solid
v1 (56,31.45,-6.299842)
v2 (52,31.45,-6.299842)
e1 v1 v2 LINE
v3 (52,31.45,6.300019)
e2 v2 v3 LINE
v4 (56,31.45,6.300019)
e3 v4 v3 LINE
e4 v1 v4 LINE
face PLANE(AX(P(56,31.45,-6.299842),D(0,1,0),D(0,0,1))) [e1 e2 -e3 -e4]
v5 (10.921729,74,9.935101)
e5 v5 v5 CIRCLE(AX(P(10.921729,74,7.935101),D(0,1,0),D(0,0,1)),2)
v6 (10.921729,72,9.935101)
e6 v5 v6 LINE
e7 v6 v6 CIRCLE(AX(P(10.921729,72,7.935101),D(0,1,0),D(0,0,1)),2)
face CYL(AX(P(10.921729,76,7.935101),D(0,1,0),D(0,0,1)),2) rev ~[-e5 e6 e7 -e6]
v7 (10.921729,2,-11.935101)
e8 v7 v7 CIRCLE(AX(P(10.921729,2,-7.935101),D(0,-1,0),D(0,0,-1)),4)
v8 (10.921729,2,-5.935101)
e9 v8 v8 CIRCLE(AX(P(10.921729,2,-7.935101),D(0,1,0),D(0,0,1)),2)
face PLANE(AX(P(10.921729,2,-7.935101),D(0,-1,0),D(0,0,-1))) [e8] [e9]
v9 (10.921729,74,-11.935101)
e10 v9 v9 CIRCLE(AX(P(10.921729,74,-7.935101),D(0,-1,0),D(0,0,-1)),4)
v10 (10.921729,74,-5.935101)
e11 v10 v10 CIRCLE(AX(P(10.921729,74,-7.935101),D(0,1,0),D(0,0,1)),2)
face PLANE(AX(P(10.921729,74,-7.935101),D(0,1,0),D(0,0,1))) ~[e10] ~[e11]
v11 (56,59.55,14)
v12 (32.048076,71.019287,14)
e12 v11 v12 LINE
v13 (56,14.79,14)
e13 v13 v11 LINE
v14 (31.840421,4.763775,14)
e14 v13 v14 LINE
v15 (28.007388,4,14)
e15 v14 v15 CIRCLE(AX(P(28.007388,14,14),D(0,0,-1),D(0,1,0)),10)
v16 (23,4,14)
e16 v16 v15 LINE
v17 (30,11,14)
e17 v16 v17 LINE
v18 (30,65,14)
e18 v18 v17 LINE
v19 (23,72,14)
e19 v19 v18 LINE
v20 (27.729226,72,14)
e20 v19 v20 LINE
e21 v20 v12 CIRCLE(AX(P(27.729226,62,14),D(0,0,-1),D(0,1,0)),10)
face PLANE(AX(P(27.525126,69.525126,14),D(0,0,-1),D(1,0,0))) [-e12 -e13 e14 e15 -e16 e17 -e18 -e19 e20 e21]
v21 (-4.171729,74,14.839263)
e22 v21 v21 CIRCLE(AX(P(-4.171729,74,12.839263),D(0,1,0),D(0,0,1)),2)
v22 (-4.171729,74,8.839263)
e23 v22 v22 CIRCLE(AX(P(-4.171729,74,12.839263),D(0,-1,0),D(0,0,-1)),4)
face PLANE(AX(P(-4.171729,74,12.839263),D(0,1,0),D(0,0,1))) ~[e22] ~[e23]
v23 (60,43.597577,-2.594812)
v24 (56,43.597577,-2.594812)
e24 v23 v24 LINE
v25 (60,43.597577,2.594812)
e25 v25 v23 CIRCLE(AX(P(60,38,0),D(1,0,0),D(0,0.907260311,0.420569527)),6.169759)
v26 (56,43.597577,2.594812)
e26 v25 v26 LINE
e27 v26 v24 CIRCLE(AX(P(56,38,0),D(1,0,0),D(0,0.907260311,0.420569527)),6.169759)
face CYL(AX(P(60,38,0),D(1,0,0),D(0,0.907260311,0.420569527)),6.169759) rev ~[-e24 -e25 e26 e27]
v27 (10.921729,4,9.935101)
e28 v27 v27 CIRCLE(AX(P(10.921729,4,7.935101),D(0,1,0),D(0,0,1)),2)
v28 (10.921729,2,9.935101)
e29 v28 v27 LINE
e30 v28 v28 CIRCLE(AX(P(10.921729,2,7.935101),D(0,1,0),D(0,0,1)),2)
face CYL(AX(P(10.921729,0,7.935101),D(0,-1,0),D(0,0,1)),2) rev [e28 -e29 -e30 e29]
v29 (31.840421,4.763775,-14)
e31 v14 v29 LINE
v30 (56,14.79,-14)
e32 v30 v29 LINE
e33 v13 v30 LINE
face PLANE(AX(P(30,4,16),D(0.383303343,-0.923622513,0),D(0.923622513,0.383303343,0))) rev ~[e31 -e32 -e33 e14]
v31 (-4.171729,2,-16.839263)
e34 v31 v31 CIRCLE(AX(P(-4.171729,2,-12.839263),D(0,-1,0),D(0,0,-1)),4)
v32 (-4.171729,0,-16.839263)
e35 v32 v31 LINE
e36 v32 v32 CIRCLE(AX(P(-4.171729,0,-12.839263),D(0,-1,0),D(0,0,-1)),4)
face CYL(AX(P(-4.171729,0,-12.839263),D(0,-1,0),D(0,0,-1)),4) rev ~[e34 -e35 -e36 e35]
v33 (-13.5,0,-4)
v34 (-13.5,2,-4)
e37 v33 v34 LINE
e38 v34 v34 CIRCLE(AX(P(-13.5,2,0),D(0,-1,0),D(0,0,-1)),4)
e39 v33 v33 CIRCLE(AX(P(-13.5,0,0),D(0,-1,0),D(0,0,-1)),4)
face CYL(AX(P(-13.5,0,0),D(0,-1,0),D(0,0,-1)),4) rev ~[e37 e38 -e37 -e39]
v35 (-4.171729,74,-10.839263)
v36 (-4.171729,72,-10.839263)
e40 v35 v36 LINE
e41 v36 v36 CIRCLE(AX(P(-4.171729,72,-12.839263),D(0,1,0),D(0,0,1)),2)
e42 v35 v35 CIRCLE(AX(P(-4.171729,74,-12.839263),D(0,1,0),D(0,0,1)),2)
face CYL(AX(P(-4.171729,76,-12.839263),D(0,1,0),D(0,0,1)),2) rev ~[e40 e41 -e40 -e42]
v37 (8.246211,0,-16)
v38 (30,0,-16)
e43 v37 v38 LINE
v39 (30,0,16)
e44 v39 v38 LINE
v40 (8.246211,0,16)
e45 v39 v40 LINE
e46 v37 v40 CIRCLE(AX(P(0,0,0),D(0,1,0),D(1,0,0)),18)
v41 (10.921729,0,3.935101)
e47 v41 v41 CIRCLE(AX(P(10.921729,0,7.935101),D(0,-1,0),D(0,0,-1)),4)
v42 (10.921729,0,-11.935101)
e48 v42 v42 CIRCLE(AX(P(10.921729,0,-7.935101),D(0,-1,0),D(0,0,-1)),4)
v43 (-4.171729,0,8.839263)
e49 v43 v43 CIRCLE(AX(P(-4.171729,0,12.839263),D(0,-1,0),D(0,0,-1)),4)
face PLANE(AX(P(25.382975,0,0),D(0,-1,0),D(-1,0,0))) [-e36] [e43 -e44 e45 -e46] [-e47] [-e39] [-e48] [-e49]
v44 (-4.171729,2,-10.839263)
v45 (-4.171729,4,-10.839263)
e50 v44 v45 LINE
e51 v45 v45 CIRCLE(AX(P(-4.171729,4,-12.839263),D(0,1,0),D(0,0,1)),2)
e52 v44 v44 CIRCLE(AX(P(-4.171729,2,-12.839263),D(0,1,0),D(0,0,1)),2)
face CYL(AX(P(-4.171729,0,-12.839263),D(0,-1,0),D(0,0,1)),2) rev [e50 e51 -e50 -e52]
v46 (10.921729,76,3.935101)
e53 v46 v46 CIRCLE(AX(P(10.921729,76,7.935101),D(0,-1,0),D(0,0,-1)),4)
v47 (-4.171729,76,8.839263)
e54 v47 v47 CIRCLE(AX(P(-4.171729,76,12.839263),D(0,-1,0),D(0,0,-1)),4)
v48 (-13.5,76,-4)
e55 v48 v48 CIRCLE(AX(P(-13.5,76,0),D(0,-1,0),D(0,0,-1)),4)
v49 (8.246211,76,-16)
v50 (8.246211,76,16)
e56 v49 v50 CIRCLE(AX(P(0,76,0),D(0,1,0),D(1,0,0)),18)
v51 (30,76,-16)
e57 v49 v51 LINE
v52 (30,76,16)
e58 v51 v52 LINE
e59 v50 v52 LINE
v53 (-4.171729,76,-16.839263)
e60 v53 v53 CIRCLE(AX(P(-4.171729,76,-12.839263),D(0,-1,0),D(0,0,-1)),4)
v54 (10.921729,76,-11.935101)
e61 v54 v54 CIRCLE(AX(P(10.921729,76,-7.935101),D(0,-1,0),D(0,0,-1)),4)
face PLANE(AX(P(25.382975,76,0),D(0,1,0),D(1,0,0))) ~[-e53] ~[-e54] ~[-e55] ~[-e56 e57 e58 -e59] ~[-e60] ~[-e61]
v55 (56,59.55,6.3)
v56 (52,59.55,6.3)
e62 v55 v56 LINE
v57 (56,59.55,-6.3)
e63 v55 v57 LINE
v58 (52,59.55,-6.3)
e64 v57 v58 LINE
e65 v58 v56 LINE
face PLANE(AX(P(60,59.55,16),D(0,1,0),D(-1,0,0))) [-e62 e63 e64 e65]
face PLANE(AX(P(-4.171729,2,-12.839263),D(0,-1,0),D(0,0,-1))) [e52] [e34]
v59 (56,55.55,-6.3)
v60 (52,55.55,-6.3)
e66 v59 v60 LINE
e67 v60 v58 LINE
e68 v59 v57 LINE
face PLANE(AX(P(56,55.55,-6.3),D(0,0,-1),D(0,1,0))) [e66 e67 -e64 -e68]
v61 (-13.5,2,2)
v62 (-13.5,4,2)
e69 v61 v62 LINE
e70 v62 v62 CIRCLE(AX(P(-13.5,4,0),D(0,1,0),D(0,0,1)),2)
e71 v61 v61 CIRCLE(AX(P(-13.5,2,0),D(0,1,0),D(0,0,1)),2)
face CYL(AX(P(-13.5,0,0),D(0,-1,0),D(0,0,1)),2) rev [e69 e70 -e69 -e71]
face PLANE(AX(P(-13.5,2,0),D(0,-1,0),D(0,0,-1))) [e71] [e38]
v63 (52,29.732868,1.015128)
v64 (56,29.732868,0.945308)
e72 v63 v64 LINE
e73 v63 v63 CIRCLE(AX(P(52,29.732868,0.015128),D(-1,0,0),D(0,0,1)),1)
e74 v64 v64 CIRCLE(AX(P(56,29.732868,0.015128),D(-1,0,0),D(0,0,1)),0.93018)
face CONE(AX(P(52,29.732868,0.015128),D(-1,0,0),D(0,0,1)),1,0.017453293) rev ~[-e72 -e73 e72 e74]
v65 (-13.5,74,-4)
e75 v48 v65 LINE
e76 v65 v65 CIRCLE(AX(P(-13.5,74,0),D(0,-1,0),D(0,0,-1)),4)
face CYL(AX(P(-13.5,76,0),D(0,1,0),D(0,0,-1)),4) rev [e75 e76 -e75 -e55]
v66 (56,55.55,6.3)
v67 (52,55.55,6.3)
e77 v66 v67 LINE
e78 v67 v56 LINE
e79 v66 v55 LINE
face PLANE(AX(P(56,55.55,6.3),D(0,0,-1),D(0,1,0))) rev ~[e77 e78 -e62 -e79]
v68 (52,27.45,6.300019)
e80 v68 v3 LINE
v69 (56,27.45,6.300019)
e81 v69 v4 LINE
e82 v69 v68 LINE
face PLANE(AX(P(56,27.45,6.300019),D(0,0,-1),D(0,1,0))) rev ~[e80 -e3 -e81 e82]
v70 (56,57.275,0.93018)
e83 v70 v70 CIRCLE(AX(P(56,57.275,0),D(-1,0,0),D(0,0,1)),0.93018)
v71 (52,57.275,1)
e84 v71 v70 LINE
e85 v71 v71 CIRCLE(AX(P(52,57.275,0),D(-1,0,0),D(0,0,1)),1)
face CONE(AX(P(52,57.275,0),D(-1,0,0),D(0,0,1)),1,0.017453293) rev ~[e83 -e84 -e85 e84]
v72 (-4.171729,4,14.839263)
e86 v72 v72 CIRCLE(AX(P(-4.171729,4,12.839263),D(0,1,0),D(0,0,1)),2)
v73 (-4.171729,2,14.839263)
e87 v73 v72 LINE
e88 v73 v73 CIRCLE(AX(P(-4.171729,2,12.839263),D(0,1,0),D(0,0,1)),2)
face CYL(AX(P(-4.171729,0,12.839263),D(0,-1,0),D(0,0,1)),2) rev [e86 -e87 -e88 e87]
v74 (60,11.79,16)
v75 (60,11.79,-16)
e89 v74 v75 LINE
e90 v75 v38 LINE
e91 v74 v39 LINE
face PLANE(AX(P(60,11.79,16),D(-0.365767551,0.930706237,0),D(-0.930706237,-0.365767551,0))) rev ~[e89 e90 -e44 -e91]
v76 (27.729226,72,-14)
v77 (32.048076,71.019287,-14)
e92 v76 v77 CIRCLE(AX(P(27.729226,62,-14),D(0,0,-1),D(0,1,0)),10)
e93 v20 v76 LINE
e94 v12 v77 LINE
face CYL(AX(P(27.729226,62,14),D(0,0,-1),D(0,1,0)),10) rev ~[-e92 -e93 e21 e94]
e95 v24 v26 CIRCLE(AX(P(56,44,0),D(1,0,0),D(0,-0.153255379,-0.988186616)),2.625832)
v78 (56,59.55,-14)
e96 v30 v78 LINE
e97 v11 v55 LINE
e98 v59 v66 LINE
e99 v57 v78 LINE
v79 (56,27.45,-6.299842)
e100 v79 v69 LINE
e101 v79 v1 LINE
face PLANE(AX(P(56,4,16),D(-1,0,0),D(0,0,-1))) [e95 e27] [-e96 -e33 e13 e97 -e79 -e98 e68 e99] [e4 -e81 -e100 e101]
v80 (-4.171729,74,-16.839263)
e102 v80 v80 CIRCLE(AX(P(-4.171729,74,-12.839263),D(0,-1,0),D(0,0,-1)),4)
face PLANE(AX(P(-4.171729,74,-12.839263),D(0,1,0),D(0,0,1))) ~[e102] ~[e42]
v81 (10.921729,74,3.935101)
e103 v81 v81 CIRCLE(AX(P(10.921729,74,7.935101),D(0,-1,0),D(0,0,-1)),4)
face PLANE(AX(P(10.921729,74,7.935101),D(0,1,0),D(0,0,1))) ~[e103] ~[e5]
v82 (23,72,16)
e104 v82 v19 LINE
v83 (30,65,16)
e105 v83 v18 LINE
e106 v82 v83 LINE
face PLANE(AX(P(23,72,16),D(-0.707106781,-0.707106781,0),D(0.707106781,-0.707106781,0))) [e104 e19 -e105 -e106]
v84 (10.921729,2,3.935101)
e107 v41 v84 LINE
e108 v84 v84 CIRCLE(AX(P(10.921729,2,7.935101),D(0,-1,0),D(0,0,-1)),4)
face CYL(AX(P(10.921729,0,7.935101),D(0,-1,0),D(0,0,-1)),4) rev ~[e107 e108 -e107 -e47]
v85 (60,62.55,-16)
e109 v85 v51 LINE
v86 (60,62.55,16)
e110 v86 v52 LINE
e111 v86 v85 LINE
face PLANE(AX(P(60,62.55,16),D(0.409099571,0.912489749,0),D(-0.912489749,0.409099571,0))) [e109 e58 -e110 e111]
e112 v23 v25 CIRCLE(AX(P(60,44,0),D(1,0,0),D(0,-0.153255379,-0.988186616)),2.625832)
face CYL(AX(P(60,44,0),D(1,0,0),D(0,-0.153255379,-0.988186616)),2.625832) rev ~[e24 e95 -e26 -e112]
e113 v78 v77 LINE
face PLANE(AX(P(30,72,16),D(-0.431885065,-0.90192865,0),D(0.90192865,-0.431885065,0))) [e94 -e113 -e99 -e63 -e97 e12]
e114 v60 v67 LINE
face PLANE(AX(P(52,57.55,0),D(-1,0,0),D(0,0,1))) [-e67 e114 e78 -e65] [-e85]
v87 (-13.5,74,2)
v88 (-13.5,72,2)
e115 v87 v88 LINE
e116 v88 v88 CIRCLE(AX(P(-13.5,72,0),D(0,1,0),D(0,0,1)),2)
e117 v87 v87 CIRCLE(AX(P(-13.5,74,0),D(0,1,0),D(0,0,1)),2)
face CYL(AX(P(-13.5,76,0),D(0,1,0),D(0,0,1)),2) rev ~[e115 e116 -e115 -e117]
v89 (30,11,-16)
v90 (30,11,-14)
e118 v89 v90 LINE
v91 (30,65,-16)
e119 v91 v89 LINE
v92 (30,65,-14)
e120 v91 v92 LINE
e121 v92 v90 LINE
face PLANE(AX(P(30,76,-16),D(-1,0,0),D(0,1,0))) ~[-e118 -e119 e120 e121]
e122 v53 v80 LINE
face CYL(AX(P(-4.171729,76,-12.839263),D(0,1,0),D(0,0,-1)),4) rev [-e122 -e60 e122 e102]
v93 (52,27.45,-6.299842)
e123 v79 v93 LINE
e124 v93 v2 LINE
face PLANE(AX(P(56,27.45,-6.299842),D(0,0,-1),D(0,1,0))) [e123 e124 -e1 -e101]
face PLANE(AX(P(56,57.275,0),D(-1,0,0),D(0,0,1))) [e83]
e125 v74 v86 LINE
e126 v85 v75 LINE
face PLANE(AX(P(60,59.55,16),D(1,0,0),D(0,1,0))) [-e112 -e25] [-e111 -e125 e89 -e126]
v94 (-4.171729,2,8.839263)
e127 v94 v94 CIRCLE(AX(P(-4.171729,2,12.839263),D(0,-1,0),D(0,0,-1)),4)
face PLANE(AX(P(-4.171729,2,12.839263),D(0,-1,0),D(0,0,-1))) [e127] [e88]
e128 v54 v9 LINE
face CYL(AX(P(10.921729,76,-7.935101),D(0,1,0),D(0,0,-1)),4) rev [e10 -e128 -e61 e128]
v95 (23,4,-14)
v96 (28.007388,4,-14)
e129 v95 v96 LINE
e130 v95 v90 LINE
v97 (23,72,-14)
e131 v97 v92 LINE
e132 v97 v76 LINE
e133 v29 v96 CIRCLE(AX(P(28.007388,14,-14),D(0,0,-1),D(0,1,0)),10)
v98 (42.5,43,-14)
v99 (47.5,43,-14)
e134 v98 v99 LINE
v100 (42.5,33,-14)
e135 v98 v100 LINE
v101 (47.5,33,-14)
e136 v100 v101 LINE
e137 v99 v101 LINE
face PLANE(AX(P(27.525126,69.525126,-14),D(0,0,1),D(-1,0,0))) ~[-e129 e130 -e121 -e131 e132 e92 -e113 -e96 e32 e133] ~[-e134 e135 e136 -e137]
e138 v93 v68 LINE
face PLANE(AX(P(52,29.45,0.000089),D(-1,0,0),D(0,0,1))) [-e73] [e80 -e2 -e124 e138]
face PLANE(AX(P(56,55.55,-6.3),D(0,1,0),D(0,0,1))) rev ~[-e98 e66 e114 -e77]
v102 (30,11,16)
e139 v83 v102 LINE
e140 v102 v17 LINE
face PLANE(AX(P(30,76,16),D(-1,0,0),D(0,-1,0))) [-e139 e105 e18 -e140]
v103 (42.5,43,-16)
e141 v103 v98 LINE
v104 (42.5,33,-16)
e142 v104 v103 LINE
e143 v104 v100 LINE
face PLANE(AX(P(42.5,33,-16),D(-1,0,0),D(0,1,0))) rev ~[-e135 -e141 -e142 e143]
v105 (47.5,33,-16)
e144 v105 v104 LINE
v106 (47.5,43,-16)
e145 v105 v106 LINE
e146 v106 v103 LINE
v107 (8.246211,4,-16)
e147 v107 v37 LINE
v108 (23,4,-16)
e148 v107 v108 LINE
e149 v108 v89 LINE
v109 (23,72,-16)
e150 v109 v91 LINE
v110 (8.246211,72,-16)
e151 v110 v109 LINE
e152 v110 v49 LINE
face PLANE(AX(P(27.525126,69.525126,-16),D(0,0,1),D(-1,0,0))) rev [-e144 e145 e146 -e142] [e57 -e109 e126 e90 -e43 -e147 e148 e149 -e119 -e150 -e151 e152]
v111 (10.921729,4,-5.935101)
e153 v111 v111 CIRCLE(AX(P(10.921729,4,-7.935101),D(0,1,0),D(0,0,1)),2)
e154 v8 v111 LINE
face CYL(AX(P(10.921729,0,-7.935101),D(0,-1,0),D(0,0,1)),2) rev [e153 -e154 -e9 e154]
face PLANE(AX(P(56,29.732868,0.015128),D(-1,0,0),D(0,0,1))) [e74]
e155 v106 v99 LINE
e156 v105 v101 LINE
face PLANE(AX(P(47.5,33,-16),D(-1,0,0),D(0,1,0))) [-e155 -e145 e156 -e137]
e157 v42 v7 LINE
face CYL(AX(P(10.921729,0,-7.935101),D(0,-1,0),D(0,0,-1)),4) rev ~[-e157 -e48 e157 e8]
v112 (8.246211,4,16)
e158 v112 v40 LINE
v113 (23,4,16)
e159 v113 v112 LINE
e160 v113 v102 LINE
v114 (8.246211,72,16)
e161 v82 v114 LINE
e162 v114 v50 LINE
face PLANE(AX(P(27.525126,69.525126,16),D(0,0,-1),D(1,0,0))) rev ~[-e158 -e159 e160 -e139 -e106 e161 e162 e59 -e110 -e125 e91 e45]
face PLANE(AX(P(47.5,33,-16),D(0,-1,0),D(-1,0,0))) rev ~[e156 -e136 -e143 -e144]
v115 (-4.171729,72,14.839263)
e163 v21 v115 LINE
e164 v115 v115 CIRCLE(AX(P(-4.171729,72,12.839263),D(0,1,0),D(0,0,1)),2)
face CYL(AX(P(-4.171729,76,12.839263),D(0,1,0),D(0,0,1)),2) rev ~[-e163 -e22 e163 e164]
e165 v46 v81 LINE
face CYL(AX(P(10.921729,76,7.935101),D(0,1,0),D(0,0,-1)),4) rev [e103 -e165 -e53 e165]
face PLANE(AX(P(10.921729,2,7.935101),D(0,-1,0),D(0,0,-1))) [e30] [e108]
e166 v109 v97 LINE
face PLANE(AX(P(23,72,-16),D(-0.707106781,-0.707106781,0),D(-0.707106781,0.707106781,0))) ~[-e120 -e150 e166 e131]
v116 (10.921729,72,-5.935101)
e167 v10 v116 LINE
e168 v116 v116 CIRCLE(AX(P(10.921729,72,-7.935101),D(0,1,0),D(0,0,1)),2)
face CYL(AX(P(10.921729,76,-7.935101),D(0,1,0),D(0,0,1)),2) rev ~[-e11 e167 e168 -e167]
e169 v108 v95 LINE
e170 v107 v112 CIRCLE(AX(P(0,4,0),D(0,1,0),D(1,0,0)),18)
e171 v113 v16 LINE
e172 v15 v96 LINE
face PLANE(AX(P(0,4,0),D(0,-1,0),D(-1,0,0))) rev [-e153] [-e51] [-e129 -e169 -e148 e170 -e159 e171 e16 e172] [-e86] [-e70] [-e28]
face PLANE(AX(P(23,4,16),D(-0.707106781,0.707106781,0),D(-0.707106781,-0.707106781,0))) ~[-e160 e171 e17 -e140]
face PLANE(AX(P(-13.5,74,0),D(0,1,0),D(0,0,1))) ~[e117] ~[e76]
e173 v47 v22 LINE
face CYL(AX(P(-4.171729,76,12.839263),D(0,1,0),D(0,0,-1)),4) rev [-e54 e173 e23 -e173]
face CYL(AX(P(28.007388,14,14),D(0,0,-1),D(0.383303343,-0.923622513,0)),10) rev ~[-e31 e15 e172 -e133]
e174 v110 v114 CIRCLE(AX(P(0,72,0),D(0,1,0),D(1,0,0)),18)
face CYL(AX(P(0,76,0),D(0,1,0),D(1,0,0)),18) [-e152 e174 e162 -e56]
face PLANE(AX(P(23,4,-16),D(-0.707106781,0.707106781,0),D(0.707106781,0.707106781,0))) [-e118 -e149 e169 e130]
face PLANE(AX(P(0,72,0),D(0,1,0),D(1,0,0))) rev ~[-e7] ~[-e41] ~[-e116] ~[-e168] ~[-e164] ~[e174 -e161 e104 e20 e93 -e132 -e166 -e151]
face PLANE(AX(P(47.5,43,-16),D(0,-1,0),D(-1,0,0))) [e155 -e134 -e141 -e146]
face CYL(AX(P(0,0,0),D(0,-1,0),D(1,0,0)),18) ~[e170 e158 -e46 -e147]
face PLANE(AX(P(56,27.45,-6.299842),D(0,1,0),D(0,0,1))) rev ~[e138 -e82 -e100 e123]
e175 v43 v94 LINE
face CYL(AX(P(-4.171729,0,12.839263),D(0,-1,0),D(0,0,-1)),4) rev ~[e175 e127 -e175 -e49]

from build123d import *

# Parameters (mm, degrees)
BOSS_EXTRUDE1_DEPTH          = 4
SKETCH2_W                    = 4
SKETCH2_H                    = 32
BOSS_EXTRUDE2_DEPTH          = 72
CUT_EXTRUDE1_DEPTH           = 109.664621658
SKETCH4_W                    = 12.6
SKETCH4_H                    = 4
SKETCH4_W_2                  = 12.599860781
BOSS_EXTRUDE3_DEPTH          = 4
SKETCH5_R                    = 1
CUT_EXTRUDE2_DEPTH           = 4
CUT_EXTRUDE2_DRAFT           = -1
CUT_EXTRUDE2_PROFILE_2_DEPTH = 4
CUT_EXTRUDE2_PROFILE_2_DRAFT = -1
CUT_EXTRUDE4_DEPTH           = 102.980390272
BOSS_EXTRUDE6_DEPTH          = 32
BOSS_EXTRUDE7_DEPTH          = 2
SKETCH14_R                   = 18
SKETCH14_R_2                 = 16
BOSS_EXTRUDE8_DEPTH          = 4
SKETCH15_R                   = 2
CUT_EXTRUDE5_DEPTH           = 4
SKETCH16_R                   = 4
SKETCH16_R_2                 = 2
CUT_EXTRUDE6_DEPTH           = 2
SKETCH17_W                   = 5
SKETCH17_H                   = 10
CUT_EXTRUDE7_DEPTH           = 10
BOSS_EXTRUDE9_DEPTH          = 2
MIRROR6_COPY_1_DEPTH         = 2
FILLET1_R                    = 10
FILLET2_R                    = 10


with BuildPart() as part:
    # Sketch1 → Boss-Extrude1 (new body)
    with BuildSketch(Plane(origin=(0, 0, 0), x_dir=(1, 0, 0), z_dir=(0, 1, 0))):
        with BuildLine():
            Line((0, 16), (60, 16))
            Line((60, 16), (60, -16))
            Line((60, -16), (0, -16))
            ThreePointArc((0, -16), (-16, 0), (0, 16))
        make_face()
    boss_extrude1 = extrude(amount=BOSS_EXTRUDE1_DEPTH)

    # Sketch2 → Boss-Extrude2 (add)
    with BuildSketch(Plane(origin=(0, 4, 0), x_dir=(1, 0, 0), z_dir=(0, 1, 0))):
        with Locations((58, 0)):
            Rectangle(SKETCH2_W, SKETCH2_H)
    extrude(amount=BOSS_EXTRUDE2_DEPTH)

    # Mirror1: Boss-Extrude1 across plane
    add(boss_extrude1.mirror(Plane(origin=(0, 38, 0), x_dir=(0, 0, 1), z_dir=(0, -1, 0))))

    # Sketch3 → Cut-Extrude1 (cut, through all)
    with BuildSketch(Plane(origin=(60, 0, 0), x_dir=(0, 0, -1), z_dir=(1, 0, 0))):
        with BuildLine():
            ThreePointArc((-2.594812436, 43.59757706), (0, 31.830241454), (2.594812436, 43.59757706))
            ThreePointArc((2.594812436, 43.59757706), (0, 46.625832401), (-2.594812436, 43.59757706))
        make_face()
    extrude(amount=-CUT_EXTRUDE1_DEPTH, mode=Mode.SUBTRACT)

    # Sketch4 → Boss-Extrude3 (add)
    with BuildSketch(Plane.ZY.offset(-56)):
        with Locations((0, 57.55)):
            Rectangle(SKETCH4_W, SKETCH4_H)
        with Locations((8.8752e-05, 29.45)):
            Rectangle(SKETCH4_W_2, SKETCH4_H)
    extrude(amount=BOSS_EXTRUDE3_DEPTH)


with BuildPart() as cut_extrude2_tool:
    # Sketch5 → Cut-Extrude2 (with draft: the straight prism first)
    with BuildSketch(Plane.ZY.offset(-52)):
        with Locations((0, 57.275)):
            Circle(SKETCH5_R)
    extrude(amount=-CUT_EXTRUDE2_DEPTH)
    # Cut-Extrude2: the draft: its side faces are tilted about the plane it starts from
    cut_extrude2_sides = [cut_extrude2_tool.faces().sort_by_distance(p)[0] for p in [
        (54, 57.275, -1),
    ]]
    draft(cut_extrude2_sides, Plane.ZY.offset(-52), CUT_EXTRUDE2_DRAFT)


with BuildPart() as part_1:
    add(part.part)

    # Cut-Extrude2: cut by cut_extrude2_tool
    add(cut_extrude2_tool.part, mode=Mode.SUBTRACT)


with BuildPart() as cut_extrude2_profile_2_tool:
    # Sketch5 → Cut-Extrude2 profile 2 (with draft: the straight prism first)
    with BuildSketch(Plane.ZY.offset(-52)):
        with Locations((0.01512814, 29.732868428)):
            Circle(SKETCH5_R)
    extrude(amount=-CUT_EXTRUDE2_PROFILE_2_DEPTH)
    # Cut-Extrude2 profile 2: the draft: its side faces are tilted about the plane it starts from
    cut_extrude2_profile_2_sides = [cut_extrude2_profile_2_tool.faces().sort_by_distance(p)[0] for p in [
        (54, 29.732868428, -0.98487186),
    ]]
    draft(cut_extrude2_profile_2_sides, Plane.ZY.offset(-52), CUT_EXTRUDE2_PROFILE_2_DRAFT)


with BuildPart() as part_2:
    add(part_1.part)

    # Cut-Extrude2 profile 2: cut by cut_extrude2_profile_2_tool
    add(cut_extrude2_profile_2_tool.part, mode=Mode.SUBTRACT)

    # Sketch11 → Cut-Extrude4 (cut, through all)
    with BuildSketch(Plane.XY.offset(16)):
        Polygon((56, 59.55), (30, 72), (30, 76), (60, 76), (60, 59.55), align=None)
        Polygon((60, 0), (60, 14.79), (56, 14.79), (30, 4), (30, 0), align=None)
    extrude(amount=-CUT_EXTRUDE4_DEPTH, mode=Mode.SUBTRACT)


with BuildPart() as cut_extrude4_piece_1:
    # of the separate pieces the step leaves, piece 1, a body of its own (cut_extrude4_pieces)
    add(part_2.part.solids().sort_by_distance((60, 59.55, -16))[0])



with BuildPart() as cut_extrude4_piece_2:
    # of the separate pieces the step leaves, piece 2, a body of its own (cut_extrude4_pieces)
    add(part_2.part.solids().sort_by_distance((0, 0, -16))[0])


with BuildPart() as cut_extrude4_piece_3:
    # of the separate pieces the step leaves, piece 3, a body of its own (cut_extrude4_pieces)
    add(part_2.part.solids().sort_by_distance((0, 76, -16))[0])


with BuildPart() as cut_extrude4_piece_1_1:
    add(cut_extrude4_piece_1.part)

    add(cut_extrude4_piece_2.part)  # Boss-Extrude6 merges Cut-Extrude4 piece 2

    add(cut_extrude4_piece_3.part)  # Boss-Extrude6 merges Cut-Extrude4 piece 3
    # Sketch12 → Boss-Extrude6 (add, through all)
    with BuildSketch(Plane.XY.offset(16)):
        Polygon((30, 72), (56, 59.55), (60, 59.55), (60, 62.55), (30, 76), align=None)
        Polygon((30, 4), (56, 14.79), (60, 14.79), (60, 11.79), (30, 0), align=None)
    extrude(amount=-BOSS_EXTRUDE6_DEPTH)

    # Sketch13 → Boss-Extrude7 (add)
    with BuildSketch(Plane.XY.offset(16)):
        Polygon((30, 76), (30, 0), (60, 11.79), (60, 62.55), align=None)
    boss_extrude7 = extrude(amount=-BOSS_EXTRUDE7_DEPTH)

    # Mirror2: Boss-Extrude7 across plane
    add(boss_extrude7.mirror(Plane.XY))

    # Sketch14 → Boss-Extrude8 (add)
    with BuildSketch(Plane(origin=(0, 76, 0), x_dir=(1, 0, 0), z_dir=(0, 1, 0))):
        Circle(SKETCH14_R)
        Circle(SKETCH14_R_2, mode=Mode.SUBTRACT)
    boss_extrude8 = extrude(amount=-BOSS_EXTRUDE8_DEPTH)

    # Sketch15 → Cut-Extrude5 (cut)
    with BuildSketch(Plane(origin=(0, 76, 0), x_dir=(1, 0, 0), z_dir=(0, 1, 0))):
        with Locations(Location((-13.5, 0, 0), (0, 0, 270))):
            Circle(SKETCH15_R)
        with Locations(Location((-4.171729424, 12.83926297, 0), (0, 0, 270))):
            Circle(SKETCH15_R)
        with Locations(Location((10.921729424, 7.935100906, 0), (0, 0, 270))):
            Circle(SKETCH15_R)
        with Locations(Location((10.921729424, -7.935100906, 0), (0, 0, 270))):
            Circle(SKETCH15_R)
        with Locations(Location((-4.171729424, -12.83926297, 0), (0, 0, 270))):
            Circle(SKETCH15_R)
    cut_extrude5 = extrude(amount=-CUT_EXTRUDE5_DEPTH, mode=Mode.SUBTRACT)

    # Mirror3: Boss-Extrude8, Cut-Extrude5 across plane
    add(boss_extrude8.mirror(Plane(origin=(0, 38, 0), x_dir=(0, 0, 1), z_dir=(0, -1, 0))))
    add(cut_extrude5.mirror(Plane(origin=(0, 38, 0), x_dir=(0, 0, 1), z_dir=(0, -1, 0))), mode=Mode.SUBTRACT)

    # Sketch16 → Cut-Extrude6 (cut)
    # profile 1 of 5: a face of its own
    with BuildSketch(Plane.XZ):
        with Locations(Location((-4.171729424, 12.83926297, 0), (0, 0, 270))):
            Circle(SKETCH16_R)
        with Locations(Location((-4.171729424, 12.83926297, 0), (0, 0, 270))):
            Circle(SKETCH16_R_2, mode=Mode.SUBTRACT)
    # profile 2 of 5: a face of its own
    with BuildSketch(Plane.XZ):
        with Locations(Location((10.921729424, 7.935100906, 0), (0, 0, 270))):
            Circle(SKETCH16_R)
        with Locations(Location((10.921729424, 7.935100906, 0), (0, 0, 270))):
            Circle(SKETCH16_R_2, mode=Mode.SUBTRACT)
    # profile 3 of 5: a face of its own
    with BuildSketch(Plane.XZ):
        with Locations(Location((10.921729424, -7.935100906, 0), (0, 0, 270))):
            Circle(SKETCH16_R)
        with Locations(Location((10.921729424, -7.935100906, 0), (0, 0, 270))):
            Circle(SKETCH16_R_2, mode=Mode.SUBTRACT)
    # profile 4 of 5: a face of its own
    with BuildSketch(Plane.XZ):
        with Locations(Location((-4.171729424, -12.83926297, 0), (0, 0, 270))):
            Circle(SKETCH16_R)
        with Locations(Location((-4.171729424, -12.83926297, 0), (0, 0, 270))):
            Circle(SKETCH16_R_2, mode=Mode.SUBTRACT)
    # profile 5 of 5: a face of its own
    with BuildSketch(Plane.XZ):
        with Locations(Location((-13.5, 0, 0), (0, 0, 270))):
            Circle(SKETCH16_R)
        with Locations(Location((-13.5, 0, 0), (0, 0, 270))):
            Circle(SKETCH16_R_2, mode=Mode.SUBTRACT)
    cut_extrude6 = extrude(amount=-CUT_EXTRUDE6_DEPTH, mode=Mode.SUBTRACT)

    # Mirror4: Cut-Extrude6 across plane
    add(cut_extrude6.mirror(Plane(origin=(0, 38, 0), x_dir=(0, 0, 1), z_dir=(0, -1, 0))), mode=Mode.SUBTRACT)

    # Sketch17 → Cut-Extrude7 (cut)
    with BuildSketch(Plane(origin=(0, 0, -16), x_dir=(-1, 0, 0), z_dir=(0, 0, -1))):
        with Locations((-45, 38)):
            Rectangle(SKETCH17_W, SKETCH17_H)
    extrude(amount=-CUT_EXTRUDE7_DEPTH, mode=Mode.SUBTRACT)

    # Sketch18 → Boss-Extrude9 (add)
    with BuildSketch(Plane(origin=(0, 0, -16), x_dir=(-1, 0, 0), z_dir=(0, 0, -1))):
        Polygon((-30, 11), (-27, 8), (-26, 7), (-23, 4), (-30, 4), align=None)
    boss_extrude9 = extrude(amount=-BOSS_EXTRUDE9_DEPTH)

    # Mirror5: Boss-Extrude9 across plane
    add(boss_extrude9.mirror(Plane.XY))

    # Mirror6: Boss-Extrude9 across plane
    add(boss_extrude9.mirror(Plane(origin=(0, 38, 0), x_dir=(0, 0, 1), z_dir=(0, -1, 0))))

    # Mirror6 copy 1 sketch → Mirror6 copy 1 (add)
    with BuildSketch(Plane(origin=(0, 76, 16), x_dir=(-1, 0, 0), z_dir=(0, 0, 1))):
        Polygon((-30, 11), (-27, 8), (-26, 7), (-23, 4), (-30, 4), align=None)
    extrude(amount=-MIRROR6_COPY_1_DEPTH)

    # Fillet1
    fillet1_edges = [cut_extrude4_piece_1_1.edges().sort_by_distance(p)[0] for p in [
        (30, 72, 0),
    ]]
    fillet(fillet1_edges, radius=FILLET1_R)

    # Fillet2
    fillet2_edges = [cut_extrude4_piece_1_1.edges().sort_by_distance(p)[0] for p in [
        (30, 4, 0),
    ]]
    fillet(fillet2_edges, radius=FILLET2_R)


solid = cut_extrude4_piece_1_1.part
